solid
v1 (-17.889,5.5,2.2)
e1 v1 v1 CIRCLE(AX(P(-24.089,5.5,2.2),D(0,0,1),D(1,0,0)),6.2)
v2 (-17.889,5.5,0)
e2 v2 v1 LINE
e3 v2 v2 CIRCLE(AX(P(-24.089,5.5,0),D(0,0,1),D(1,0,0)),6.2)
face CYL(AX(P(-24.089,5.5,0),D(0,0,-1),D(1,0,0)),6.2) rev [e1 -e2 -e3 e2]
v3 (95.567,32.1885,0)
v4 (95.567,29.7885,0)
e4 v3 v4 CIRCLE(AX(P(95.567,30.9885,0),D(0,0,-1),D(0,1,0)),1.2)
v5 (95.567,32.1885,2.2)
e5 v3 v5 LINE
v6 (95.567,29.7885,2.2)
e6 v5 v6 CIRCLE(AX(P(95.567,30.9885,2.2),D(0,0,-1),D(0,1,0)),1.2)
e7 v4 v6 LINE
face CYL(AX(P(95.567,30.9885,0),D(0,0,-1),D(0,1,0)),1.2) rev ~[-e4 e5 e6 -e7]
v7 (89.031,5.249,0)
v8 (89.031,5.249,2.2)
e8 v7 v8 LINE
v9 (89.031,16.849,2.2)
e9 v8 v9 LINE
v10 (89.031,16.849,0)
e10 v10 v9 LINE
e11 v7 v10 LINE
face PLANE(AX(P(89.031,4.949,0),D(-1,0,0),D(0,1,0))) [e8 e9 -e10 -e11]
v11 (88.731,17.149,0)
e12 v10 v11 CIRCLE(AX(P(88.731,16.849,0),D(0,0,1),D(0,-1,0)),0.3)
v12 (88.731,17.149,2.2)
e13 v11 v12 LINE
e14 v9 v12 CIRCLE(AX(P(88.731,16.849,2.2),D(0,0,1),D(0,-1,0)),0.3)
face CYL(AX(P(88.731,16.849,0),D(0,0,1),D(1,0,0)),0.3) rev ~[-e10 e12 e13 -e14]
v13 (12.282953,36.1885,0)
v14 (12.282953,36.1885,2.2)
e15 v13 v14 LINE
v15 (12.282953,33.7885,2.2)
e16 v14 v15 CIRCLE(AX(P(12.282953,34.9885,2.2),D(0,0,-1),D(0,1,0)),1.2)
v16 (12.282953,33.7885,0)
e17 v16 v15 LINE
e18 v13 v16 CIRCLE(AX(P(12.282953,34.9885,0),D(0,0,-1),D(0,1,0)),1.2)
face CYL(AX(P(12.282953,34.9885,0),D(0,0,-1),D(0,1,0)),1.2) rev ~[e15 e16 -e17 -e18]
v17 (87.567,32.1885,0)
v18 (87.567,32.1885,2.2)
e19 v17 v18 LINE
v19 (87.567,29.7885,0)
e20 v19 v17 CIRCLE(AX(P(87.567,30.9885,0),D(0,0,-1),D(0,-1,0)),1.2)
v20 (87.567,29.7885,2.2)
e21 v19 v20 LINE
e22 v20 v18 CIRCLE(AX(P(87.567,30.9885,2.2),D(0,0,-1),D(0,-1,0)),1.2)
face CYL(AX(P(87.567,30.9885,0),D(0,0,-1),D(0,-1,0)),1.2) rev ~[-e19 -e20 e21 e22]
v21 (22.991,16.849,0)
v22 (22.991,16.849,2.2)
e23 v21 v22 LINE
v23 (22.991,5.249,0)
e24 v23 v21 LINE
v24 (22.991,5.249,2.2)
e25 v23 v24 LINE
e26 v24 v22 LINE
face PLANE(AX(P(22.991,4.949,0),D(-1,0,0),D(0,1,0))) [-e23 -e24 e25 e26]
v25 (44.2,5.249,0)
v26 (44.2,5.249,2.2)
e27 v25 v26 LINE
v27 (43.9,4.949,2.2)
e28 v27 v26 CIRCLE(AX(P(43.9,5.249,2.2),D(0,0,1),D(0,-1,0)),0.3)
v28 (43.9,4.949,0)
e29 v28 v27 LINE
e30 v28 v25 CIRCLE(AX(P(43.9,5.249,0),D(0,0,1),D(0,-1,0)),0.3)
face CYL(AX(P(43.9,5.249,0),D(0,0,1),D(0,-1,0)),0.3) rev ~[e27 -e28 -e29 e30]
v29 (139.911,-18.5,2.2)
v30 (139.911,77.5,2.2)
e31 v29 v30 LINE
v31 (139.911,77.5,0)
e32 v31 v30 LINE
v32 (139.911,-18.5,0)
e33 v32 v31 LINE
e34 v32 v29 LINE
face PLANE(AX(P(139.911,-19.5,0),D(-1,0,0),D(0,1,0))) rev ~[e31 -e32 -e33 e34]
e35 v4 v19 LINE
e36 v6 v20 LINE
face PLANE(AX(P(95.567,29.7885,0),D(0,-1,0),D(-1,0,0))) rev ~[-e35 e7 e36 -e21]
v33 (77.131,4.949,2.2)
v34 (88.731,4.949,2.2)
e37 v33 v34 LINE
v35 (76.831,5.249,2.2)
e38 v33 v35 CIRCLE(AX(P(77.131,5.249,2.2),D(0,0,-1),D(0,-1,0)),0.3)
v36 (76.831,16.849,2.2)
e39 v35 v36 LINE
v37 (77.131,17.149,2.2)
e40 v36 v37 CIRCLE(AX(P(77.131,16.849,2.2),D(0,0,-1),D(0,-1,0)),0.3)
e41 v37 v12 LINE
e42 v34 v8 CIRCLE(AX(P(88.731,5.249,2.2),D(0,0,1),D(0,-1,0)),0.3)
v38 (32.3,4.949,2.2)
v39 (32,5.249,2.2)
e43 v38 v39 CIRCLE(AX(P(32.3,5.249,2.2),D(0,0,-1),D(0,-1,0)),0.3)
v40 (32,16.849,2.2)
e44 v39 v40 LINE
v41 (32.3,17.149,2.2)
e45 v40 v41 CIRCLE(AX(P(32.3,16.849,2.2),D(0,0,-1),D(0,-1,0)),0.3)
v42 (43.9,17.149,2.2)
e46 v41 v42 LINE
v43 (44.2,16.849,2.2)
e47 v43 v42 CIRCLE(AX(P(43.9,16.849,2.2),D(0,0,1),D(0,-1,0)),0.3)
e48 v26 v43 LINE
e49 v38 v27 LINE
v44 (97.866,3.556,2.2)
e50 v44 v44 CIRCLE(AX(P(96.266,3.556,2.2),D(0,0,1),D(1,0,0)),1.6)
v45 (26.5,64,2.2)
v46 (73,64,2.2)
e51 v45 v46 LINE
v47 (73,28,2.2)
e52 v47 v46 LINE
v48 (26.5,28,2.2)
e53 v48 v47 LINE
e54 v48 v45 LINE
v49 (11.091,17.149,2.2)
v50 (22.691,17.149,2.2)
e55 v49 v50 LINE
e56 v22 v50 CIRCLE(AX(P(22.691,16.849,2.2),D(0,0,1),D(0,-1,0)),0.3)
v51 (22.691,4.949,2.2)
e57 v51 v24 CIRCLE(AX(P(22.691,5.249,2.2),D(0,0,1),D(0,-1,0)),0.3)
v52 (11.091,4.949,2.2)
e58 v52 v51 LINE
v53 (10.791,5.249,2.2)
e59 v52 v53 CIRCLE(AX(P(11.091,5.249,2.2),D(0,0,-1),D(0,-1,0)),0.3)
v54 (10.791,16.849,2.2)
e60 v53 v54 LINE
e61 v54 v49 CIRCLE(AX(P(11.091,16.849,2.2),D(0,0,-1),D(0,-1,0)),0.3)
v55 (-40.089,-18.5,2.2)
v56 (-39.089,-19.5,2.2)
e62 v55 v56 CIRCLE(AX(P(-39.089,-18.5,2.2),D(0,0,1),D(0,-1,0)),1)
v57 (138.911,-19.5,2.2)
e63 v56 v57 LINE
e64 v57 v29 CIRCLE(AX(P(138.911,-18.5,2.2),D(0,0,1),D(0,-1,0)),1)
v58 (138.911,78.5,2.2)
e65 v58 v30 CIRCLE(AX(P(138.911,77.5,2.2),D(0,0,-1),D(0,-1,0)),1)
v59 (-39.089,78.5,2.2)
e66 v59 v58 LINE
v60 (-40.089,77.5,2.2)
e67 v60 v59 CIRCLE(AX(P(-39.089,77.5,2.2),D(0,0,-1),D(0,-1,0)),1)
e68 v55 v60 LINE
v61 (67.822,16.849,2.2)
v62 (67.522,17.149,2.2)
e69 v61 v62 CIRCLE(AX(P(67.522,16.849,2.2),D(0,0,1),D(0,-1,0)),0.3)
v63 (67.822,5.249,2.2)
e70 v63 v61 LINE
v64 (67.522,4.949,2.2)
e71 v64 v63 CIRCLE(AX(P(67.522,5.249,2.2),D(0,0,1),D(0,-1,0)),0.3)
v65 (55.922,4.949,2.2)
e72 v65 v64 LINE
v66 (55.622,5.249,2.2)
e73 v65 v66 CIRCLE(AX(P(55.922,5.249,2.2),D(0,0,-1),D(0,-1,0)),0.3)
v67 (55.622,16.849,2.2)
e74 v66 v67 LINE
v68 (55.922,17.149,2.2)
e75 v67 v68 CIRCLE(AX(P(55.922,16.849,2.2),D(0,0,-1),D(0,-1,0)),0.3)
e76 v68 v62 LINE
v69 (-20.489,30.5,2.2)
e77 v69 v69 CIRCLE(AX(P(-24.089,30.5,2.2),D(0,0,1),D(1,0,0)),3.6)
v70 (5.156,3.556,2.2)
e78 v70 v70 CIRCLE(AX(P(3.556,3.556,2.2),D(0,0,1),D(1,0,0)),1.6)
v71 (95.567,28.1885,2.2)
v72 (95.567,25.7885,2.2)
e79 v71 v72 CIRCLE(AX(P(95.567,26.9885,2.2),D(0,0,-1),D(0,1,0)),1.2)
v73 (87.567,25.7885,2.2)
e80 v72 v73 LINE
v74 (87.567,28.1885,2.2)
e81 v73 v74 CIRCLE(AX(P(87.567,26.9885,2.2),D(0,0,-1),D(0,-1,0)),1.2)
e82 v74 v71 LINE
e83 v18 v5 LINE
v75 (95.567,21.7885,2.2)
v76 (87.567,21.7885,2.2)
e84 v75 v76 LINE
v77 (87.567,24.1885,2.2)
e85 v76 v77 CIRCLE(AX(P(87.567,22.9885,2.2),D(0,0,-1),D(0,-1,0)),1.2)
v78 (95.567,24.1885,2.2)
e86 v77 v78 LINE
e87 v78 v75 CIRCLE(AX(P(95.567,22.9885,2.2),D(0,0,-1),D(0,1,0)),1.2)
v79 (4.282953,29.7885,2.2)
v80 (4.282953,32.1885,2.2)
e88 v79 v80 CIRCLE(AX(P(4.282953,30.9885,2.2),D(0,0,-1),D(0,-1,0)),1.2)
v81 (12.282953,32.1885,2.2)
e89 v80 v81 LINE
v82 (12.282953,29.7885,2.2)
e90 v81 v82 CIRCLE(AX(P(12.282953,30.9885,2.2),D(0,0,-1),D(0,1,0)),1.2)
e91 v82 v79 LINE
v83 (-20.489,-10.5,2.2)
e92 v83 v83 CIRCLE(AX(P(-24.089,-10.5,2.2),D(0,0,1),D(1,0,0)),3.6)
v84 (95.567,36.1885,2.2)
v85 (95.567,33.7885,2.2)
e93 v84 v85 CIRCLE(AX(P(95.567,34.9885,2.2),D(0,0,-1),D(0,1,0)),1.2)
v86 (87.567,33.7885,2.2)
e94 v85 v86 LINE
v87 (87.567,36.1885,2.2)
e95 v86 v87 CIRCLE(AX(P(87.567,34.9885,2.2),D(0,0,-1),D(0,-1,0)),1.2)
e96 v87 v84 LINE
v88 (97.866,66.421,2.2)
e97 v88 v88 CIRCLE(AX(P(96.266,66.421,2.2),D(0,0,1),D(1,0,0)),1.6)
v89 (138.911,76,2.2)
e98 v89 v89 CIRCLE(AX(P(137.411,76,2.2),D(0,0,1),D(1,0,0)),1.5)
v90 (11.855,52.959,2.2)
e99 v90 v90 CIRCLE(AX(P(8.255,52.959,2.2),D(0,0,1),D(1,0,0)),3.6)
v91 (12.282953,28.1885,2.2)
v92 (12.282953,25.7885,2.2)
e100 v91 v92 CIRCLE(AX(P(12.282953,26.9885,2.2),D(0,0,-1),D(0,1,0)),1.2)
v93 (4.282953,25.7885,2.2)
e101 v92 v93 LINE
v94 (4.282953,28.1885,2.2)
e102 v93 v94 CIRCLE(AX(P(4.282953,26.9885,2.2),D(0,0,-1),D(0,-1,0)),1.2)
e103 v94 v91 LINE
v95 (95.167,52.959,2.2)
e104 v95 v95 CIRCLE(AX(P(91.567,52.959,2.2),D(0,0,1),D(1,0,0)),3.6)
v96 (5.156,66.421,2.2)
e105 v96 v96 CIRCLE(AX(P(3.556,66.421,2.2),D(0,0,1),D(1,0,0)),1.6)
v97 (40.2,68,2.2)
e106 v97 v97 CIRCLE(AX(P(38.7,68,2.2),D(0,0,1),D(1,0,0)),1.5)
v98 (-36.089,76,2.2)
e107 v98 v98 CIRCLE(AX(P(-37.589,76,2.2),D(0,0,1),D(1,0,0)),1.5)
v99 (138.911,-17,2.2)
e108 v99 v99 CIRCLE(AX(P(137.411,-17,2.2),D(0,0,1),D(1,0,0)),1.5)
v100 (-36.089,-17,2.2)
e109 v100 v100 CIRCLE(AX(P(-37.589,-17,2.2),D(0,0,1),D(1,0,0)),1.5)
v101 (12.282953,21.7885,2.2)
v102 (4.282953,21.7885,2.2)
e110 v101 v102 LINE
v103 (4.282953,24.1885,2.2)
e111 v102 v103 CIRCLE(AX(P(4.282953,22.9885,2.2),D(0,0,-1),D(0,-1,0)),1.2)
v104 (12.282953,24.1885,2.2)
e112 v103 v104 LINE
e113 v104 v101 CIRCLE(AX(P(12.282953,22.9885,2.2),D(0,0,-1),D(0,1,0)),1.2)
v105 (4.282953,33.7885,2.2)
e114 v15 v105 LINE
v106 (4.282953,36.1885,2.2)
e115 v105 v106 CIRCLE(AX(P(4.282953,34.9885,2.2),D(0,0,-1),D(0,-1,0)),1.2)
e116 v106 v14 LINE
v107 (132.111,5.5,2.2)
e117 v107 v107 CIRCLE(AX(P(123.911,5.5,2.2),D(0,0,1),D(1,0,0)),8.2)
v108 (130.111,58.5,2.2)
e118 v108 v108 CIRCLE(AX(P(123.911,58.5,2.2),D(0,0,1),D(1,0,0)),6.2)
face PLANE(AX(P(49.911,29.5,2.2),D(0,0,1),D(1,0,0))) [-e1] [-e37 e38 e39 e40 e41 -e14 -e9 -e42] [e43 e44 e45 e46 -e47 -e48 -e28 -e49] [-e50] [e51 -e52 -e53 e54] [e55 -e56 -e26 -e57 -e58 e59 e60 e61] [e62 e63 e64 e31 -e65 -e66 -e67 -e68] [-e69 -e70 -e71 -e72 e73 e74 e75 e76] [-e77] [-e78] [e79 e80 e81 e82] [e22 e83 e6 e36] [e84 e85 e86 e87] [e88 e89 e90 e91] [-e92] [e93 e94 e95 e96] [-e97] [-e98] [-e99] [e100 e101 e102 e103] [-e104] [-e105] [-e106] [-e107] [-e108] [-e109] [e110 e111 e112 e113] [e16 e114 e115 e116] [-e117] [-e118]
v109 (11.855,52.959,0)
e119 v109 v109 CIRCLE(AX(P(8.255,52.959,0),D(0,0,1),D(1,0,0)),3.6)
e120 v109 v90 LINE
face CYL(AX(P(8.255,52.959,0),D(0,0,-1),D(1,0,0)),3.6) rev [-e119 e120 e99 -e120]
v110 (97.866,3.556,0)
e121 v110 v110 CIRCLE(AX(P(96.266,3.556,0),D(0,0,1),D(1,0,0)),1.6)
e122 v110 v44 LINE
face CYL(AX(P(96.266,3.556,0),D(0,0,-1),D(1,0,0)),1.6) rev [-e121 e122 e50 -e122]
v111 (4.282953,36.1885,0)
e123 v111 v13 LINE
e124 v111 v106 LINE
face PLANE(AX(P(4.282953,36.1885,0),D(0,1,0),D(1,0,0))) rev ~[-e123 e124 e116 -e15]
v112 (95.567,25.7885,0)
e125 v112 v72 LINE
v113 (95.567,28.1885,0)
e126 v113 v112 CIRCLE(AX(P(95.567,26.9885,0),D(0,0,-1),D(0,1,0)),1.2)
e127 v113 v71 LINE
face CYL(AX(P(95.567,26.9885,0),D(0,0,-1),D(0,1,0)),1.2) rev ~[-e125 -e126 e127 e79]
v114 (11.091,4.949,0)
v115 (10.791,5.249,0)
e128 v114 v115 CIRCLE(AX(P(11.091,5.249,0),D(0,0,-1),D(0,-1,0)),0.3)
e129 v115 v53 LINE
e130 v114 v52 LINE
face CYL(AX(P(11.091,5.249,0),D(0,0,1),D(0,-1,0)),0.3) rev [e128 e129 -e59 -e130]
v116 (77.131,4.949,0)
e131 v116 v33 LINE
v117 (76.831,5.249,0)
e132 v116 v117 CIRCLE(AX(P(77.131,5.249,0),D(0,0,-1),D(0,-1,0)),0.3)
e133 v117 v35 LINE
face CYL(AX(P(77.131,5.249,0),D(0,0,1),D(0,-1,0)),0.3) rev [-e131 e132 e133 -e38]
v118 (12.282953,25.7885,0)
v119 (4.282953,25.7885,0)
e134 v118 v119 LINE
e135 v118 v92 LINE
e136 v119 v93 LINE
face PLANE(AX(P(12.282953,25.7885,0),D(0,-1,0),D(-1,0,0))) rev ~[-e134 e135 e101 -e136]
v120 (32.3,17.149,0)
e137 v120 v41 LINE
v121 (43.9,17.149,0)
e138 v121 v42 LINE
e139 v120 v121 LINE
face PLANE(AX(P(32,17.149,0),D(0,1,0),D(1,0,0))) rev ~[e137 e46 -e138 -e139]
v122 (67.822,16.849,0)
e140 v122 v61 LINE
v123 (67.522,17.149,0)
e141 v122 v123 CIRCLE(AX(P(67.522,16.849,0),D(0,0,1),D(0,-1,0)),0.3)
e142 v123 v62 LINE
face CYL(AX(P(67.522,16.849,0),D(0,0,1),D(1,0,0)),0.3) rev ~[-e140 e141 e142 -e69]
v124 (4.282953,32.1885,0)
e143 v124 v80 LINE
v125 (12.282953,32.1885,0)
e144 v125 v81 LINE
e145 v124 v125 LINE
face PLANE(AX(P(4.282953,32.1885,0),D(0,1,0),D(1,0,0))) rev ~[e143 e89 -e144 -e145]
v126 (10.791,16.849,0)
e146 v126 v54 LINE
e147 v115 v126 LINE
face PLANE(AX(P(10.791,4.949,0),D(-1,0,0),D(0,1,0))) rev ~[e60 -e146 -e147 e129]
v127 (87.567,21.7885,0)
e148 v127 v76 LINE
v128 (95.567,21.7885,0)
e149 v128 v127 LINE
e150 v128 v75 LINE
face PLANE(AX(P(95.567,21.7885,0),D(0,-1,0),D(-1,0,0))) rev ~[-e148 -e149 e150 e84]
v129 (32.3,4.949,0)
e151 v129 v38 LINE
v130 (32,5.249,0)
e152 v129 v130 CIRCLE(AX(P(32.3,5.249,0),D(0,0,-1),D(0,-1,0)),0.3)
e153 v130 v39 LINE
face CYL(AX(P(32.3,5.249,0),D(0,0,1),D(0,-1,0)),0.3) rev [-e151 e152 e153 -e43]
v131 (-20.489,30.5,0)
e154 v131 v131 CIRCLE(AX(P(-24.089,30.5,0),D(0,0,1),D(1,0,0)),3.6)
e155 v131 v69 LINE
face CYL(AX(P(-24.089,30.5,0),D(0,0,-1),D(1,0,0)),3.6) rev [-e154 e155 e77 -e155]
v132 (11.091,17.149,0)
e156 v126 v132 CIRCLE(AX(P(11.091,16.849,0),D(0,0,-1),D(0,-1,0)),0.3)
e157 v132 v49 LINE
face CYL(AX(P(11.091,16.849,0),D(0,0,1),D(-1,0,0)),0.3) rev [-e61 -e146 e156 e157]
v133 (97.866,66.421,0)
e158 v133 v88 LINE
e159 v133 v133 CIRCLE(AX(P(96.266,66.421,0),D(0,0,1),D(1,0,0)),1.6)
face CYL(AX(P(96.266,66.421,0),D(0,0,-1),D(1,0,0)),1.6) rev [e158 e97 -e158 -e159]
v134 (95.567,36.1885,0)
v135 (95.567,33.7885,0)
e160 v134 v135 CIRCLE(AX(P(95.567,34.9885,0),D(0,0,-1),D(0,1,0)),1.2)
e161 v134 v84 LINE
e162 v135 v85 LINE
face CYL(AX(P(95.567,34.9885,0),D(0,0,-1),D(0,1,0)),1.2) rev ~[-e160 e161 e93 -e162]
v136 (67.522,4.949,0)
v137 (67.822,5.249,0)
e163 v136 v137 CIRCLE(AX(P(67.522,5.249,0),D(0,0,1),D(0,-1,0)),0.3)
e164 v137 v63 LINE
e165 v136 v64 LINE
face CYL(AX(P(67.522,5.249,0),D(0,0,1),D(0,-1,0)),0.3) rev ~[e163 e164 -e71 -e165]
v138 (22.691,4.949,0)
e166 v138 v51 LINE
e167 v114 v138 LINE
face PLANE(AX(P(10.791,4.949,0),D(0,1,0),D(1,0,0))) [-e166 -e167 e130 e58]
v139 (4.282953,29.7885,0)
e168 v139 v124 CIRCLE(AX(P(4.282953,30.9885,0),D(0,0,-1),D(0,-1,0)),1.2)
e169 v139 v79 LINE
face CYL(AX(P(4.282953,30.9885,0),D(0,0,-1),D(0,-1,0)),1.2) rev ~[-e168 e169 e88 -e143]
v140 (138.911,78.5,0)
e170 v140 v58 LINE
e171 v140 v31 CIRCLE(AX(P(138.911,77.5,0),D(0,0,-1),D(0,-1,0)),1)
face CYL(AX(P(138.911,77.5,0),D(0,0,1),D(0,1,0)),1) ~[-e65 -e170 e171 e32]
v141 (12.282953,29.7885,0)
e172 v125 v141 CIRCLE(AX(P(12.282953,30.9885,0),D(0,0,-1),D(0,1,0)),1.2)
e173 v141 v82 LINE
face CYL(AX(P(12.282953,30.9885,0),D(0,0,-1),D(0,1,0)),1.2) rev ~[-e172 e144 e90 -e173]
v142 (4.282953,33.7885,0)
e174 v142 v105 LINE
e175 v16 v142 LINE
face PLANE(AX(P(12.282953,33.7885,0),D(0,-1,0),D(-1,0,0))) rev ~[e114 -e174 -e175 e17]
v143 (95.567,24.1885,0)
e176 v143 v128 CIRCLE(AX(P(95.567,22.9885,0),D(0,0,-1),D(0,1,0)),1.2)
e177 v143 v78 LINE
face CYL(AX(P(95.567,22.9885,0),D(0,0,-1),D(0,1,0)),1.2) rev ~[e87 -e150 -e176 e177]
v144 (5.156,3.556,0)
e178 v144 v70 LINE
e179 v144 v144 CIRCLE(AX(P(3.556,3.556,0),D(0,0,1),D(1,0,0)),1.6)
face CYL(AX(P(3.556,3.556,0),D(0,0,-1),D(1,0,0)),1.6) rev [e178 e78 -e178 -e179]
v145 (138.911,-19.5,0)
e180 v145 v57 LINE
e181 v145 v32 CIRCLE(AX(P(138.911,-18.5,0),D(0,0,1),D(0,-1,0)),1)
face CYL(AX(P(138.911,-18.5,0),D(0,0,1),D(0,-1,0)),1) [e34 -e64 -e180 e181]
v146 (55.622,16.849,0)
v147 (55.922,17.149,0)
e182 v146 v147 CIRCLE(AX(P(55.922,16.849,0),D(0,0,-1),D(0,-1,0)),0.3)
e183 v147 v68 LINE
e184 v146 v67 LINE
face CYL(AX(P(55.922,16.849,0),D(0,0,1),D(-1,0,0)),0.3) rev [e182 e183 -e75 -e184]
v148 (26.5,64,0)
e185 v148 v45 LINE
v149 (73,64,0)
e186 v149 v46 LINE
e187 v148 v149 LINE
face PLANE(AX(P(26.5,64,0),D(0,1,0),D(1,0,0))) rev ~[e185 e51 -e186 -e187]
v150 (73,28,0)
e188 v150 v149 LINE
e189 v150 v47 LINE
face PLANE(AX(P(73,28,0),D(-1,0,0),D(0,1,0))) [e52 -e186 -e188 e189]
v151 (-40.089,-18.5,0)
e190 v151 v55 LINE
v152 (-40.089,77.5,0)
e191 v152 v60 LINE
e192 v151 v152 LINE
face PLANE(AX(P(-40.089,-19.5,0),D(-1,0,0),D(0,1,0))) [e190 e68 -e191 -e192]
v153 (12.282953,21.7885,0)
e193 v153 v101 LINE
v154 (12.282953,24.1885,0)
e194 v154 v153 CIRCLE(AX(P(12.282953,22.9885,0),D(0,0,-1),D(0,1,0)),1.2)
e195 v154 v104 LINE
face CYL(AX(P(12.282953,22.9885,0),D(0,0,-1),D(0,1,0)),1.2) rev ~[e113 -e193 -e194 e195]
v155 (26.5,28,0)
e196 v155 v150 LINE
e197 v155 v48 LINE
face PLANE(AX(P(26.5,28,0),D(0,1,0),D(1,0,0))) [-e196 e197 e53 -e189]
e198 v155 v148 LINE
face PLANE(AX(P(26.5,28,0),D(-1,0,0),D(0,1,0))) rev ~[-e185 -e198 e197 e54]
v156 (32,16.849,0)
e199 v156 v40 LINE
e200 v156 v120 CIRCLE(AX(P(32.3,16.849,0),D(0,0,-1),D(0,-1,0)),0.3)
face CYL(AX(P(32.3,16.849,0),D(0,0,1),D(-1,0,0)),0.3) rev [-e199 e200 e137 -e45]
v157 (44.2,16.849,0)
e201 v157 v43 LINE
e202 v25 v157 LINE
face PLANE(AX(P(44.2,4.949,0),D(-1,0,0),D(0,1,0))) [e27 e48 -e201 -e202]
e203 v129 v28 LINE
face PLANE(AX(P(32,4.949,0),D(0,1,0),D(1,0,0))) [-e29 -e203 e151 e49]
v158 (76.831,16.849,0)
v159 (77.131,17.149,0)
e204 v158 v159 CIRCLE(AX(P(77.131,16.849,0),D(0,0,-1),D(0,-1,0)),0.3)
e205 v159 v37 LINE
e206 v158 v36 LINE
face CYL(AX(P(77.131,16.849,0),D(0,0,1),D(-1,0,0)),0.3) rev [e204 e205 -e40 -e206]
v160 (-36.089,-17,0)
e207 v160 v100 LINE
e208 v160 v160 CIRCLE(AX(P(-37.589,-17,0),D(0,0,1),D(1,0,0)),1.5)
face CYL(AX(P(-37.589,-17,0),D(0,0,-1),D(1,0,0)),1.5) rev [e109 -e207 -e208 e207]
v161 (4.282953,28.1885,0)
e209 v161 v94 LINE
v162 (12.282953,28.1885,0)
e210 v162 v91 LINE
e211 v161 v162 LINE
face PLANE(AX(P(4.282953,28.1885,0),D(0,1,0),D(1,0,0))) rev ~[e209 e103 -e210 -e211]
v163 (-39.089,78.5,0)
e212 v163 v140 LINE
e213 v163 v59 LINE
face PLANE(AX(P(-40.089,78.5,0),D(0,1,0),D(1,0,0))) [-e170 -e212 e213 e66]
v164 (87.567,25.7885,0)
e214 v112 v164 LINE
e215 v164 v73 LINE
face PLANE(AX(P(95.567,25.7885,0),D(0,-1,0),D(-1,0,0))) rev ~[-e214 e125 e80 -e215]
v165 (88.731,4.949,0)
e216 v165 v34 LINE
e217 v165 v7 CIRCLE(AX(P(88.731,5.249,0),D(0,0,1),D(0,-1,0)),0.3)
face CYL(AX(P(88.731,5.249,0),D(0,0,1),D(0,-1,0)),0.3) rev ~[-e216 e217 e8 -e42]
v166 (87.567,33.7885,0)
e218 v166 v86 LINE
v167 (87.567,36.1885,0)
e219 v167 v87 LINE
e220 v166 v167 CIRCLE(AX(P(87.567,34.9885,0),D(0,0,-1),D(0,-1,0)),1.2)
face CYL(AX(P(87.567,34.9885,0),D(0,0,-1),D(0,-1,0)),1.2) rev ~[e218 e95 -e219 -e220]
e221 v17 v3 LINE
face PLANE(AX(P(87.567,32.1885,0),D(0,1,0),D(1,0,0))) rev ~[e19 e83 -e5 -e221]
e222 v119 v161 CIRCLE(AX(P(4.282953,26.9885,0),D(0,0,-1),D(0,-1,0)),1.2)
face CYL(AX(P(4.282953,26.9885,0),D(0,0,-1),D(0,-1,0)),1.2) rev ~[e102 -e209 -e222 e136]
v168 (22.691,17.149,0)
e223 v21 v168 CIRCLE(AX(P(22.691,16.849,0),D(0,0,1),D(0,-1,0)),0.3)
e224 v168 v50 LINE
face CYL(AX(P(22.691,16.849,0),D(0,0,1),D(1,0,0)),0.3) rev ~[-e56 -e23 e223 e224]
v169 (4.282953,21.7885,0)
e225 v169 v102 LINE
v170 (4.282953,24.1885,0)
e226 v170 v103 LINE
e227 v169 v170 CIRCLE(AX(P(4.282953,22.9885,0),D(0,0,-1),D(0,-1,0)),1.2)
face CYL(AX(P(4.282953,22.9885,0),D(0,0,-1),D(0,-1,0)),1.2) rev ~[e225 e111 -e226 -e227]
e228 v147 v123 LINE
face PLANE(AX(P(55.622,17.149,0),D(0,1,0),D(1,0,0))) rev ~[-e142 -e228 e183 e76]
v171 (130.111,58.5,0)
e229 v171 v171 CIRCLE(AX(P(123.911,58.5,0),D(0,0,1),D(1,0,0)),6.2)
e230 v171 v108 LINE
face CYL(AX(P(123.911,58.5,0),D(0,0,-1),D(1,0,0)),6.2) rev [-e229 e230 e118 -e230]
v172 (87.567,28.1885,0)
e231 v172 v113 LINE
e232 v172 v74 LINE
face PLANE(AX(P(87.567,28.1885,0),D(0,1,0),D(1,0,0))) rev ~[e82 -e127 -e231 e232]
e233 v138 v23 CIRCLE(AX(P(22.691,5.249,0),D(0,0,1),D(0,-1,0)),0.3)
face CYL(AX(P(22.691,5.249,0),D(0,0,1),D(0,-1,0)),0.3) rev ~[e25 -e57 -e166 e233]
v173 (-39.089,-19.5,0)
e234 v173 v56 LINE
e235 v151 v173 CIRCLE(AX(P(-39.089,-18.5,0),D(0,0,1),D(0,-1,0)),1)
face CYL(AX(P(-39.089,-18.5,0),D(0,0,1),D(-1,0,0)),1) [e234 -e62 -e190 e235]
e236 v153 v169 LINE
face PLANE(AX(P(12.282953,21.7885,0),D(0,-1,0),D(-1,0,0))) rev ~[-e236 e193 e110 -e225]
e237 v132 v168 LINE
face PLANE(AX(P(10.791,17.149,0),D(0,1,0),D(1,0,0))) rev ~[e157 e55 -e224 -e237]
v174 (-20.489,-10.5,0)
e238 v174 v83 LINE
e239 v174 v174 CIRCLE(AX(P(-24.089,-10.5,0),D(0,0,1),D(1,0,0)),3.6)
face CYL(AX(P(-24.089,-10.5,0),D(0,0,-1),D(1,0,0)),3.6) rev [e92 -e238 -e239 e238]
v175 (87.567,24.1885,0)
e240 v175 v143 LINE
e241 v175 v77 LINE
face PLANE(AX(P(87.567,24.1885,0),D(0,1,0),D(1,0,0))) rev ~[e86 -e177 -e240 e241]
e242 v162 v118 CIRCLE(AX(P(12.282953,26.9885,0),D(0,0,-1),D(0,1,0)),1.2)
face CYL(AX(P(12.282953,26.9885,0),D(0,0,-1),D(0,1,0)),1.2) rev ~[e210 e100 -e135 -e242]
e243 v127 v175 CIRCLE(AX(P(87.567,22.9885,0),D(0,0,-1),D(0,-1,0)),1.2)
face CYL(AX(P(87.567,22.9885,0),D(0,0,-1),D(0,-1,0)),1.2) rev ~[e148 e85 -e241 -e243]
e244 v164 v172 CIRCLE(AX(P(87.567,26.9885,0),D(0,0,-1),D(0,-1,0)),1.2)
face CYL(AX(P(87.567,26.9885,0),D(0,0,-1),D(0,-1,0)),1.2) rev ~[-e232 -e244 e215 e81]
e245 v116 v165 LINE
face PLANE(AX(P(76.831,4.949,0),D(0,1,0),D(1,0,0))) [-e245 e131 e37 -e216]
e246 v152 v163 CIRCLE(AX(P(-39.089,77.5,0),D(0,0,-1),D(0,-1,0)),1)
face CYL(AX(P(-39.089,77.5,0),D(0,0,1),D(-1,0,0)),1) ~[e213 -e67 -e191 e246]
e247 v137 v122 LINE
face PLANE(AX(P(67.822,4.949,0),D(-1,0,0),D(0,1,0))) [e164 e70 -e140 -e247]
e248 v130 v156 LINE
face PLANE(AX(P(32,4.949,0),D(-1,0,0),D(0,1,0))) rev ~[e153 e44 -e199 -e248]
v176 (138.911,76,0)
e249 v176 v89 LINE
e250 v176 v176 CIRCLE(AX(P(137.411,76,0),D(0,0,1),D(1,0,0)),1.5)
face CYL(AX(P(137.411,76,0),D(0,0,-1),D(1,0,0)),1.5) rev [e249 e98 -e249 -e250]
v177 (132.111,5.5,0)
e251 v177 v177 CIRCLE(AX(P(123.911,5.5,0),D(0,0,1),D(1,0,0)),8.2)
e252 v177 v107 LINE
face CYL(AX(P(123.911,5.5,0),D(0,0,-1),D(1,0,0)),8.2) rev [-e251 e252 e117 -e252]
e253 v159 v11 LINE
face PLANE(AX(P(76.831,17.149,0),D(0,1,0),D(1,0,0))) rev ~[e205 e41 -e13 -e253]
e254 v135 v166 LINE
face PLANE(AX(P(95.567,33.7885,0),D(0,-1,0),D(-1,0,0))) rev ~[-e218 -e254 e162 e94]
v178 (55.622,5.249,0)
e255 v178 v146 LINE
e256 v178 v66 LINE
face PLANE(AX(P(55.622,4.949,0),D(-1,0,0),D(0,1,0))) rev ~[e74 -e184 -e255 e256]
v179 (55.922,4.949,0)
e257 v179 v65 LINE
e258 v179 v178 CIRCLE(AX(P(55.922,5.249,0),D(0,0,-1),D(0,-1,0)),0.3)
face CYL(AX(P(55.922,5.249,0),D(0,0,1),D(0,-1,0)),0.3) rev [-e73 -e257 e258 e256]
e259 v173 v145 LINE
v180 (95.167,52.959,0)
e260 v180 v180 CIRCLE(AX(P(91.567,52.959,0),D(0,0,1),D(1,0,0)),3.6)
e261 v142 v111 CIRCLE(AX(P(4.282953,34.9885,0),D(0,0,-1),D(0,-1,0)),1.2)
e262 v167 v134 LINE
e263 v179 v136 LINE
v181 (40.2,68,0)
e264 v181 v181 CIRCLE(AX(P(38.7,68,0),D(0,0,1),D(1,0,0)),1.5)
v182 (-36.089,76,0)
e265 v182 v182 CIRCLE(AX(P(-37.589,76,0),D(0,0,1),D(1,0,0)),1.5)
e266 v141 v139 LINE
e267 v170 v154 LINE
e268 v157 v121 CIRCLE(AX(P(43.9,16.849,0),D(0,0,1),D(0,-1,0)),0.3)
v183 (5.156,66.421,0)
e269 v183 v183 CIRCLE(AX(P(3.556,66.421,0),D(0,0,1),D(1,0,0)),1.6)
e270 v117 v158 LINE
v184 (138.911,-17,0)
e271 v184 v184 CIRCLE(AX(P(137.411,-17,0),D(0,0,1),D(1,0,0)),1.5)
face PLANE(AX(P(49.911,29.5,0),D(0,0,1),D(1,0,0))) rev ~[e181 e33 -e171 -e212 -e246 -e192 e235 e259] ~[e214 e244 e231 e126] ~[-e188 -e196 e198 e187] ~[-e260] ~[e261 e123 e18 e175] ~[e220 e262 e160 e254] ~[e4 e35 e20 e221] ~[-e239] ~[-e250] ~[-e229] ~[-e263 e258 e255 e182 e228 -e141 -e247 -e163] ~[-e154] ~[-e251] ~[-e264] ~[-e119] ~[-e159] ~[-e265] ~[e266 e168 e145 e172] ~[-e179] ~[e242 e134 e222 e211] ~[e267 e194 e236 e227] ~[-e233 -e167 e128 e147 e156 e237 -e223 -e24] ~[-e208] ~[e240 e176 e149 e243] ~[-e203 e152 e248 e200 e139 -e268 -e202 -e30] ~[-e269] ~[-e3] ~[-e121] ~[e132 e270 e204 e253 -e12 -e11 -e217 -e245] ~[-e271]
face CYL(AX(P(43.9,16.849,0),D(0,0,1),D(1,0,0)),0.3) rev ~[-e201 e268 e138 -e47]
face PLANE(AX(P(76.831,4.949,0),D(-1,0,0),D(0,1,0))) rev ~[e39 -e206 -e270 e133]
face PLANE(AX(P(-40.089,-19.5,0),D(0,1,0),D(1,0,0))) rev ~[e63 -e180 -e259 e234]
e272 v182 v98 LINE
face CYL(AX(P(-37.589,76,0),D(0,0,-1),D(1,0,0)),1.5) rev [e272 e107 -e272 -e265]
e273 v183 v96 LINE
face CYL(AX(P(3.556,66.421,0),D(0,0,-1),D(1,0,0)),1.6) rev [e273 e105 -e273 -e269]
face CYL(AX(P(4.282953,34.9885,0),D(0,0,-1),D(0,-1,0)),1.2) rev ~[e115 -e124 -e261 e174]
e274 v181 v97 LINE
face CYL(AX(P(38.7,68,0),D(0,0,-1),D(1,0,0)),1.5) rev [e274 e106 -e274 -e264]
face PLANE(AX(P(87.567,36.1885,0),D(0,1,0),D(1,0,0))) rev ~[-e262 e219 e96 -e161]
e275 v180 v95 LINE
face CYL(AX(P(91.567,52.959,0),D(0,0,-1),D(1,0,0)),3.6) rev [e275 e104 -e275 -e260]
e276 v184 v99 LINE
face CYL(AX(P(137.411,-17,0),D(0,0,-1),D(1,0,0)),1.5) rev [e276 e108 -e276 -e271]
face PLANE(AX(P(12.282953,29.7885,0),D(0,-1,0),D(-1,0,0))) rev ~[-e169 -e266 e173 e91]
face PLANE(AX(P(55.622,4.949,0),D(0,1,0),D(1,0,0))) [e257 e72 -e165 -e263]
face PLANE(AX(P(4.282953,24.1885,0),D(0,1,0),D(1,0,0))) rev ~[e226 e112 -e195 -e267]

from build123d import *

# Parameters (mm, degrees)
SKETCH_1_W      = 180
SKETCH_1_H      = 98
SKETCH_1_R      = 6.2
SKETCH_1_R_2    = 8.2
SKETCH_1_R_3    = 1.5
SKETCH_1_R_4    = 1.6
SKETCH_1_R_5    = 3.6
SKETCH_1_W_2    = 12.2
SKETCH_1_H_2    = 12.2
SKETCH_1_W_3    = 46.5
SKETCH_1_H_3    = 36
EXTRUDE_1_DEPTH = 2.2
FILLET_1_R      = 1
FILLET_2_R      = 0.3


with BuildPart() as part:
    # Эскиз1 → Бобышка-Вытянуть1 (new body)
    with BuildSketch(Plane.XY):
        with Locations((49.911, 29.5)):
            Rectangle(SKETCH_1_W, SKETCH_1_H)
        with Locations((-24.089, 5.5)):
            Circle(SKETCH_1_R, mode=Mode.SUBTRACT)
        with Locations((123.911, 58.5)):
            Circle(SKETCH_1_R, mode=Mode.SUBTRACT)
        with Locations((123.911, 5.5)):
            Circle(SKETCH_1_R_2, mode=Mode.SUBTRACT)
        with Locations((-37.589, 76)):
            Circle(SKETCH_1_R_3, mode=Mode.SUBTRACT)
        with Locations((137.411, 76)):
            Circle(SKETCH_1_R_3, mode=Mode.SUBTRACT)
        with Locations((137.411, -17)):
            Circle(SKETCH_1_R_3, mode=Mode.SUBTRACT)
        with Locations((-37.589, -17)):
            Circle(SKETCH_1_R_3, mode=Mode.SUBTRACT)
        with Locations((3.556, 3.556)):
            Circle(SKETCH_1_R_4, mode=Mode.SUBTRACT)
        with Locations((3.556, 66.421)):
            Circle(SKETCH_1_R_4, mode=Mode.SUBTRACT)
        with Locations((96.266, 66.421)):
            Circle(SKETCH_1_R_4, mode=Mode.SUBTRACT)
        with Locations((96.266, 3.556)):
            Circle(SKETCH_1_R_4, mode=Mode.SUBTRACT)
        with Locations((8.255, 52.959)):
            Circle(SKETCH_1_R_5, mode=Mode.SUBTRACT)
        with Locations((91.567, 52.959)):
            Circle(SKETCH_1_R_5, mode=Mode.SUBTRACT)
        with Locations((-24.089, 30.5)):
            Circle(SKETCH_1_R_5, mode=Mode.SUBTRACT)
        with Locations((-24.089, -10.5)):
            Circle(SKETCH_1_R_5, mode=Mode.SUBTRACT)
        with Locations((38.7, 68)):
            Circle(SKETCH_1_R_3, mode=Mode.SUBTRACT)
        with Locations((16.891, 11.049)):
            Rectangle(SKETCH_1_W_2, SKETCH_1_H_2, mode=Mode.SUBTRACT)
        with Locations((38.1, 11.049)):
            Rectangle(SKETCH_1_W_2, SKETCH_1_H_2, mode=Mode.SUBTRACT)
        with Locations((61.722, 11.049)):
            Rectangle(SKETCH_1_W_2, SKETCH_1_H_2, mode=Mode.SUBTRACT)
        with Locations((82.931, 11.049)):
            Rectangle(SKETCH_1_W_2, SKETCH_1_H_2, mode=Mode.SUBTRACT)
        with Locations((49.75, 46)):
            Rectangle(SKETCH_1_W_3, SKETCH_1_H_3, mode=Mode.SUBTRACT)
        with BuildLine():
            Line((4.282953003, 36.1885), (12.282953003, 36.1885))
            ThreePointArc((12.282953003, 36.1885), (13.482953003, 34.9885), (12.282953003, 33.7885))
            Line((12.282953003, 33.7885), (4.282953003, 33.7885))
            ThreePointArc((4.282953003, 33.7885), (3.082953003, 34.9885), (4.282953003, 36.1885))
        make_face(mode=Mode.SUBTRACT)
        with BuildLine():
            Line((95.567, 33.7885), (87.567, 33.7885))
            ThreePointArc((87.567, 33.7885), (86.367, 34.9885), (87.567, 36.1885))
            Line((87.567, 36.1885), (95.567, 36.1885))
            ThreePointArc((95.567, 36.1885), (96.767, 34.9885), (95.567, 33.7885))
        make_face(mode=Mode.SUBTRACT)
        with BuildLine():
            Line((4.282953003, 32.1885), (12.282953003, 32.1885))
            ThreePointArc((12.282953003, 32.1885), (13.482953003, 30.9885), (12.282953003, 29.7885))
            Line((12.282953003, 29.7885), (4.282953003, 29.7885))
            ThreePointArc((4.282953003, 29.7885), (3.082953003, 30.9885), (4.282953003, 32.1885))
        make_face(mode=Mode.SUBTRACT)
        with BuildLine():
            Line((95.567, 29.7885), (87.567, 29.7885))
            ThreePointArc((87.567, 29.7885), (86.367, 30.9885), (87.567, 32.1885))
            Line((87.567, 32.1885), (95.567, 32.1885))
            ThreePointArc((95.567, 32.1885), (96.767, 30.9885), (95.567, 29.7885))
        make_face(mode=Mode.SUBTRACT)
        with BuildLine():
            Line((4.282953003, 28.1885), (12.282953003, 28.1885))
            ThreePointArc((12.282953003, 28.1885), (13.482953003, 26.9885), (12.282953003, 25.7885))
            Line((12.282953003, 25.7885), (4.282953003, 25.7885))
            ThreePointArc((4.282953003, 25.7885), (3.082953003, 26.9885), (4.282953003, 28.1885))
        make_face(mode=Mode.SUBTRACT)
        with BuildLine():
            Line((95.567, 25.7885), (87.567, 25.7885))
            ThreePointArc((87.567, 25.7885), (86.367, 26.9885), (87.567, 28.1885))
            Line((87.567, 28.1885), (95.567, 28.1885))
            ThreePointArc((95.567, 28.1885), (96.767, 26.9885), (95.567, 25.7885))
        make_face(mode=Mode.SUBTRACT)
        with BuildLine():
            Line((4.282953003, 24.1885), (12.282953003, 24.1885))
            ThreePointArc((12.282953003, 24.1885), (13.482953003, 22.9885), (12.282953003, 21.7885))
            Line((12.282953003, 21.7885), (4.282953003, 21.7885))
            ThreePointArc((4.282953003, 21.7885), (3.082953003, 22.9885), (4.282953003, 24.1885))
        make_face(mode=Mode.SUBTRACT)
        with BuildLine():
            Line((95.567, 21.7885), (87.567, 21.7885))
            ThreePointArc((87.567, 21.7885), (86.367, 22.9885), (87.567, 24.1885))
            Line((87.567, 24.1885), (95.567, 24.1885))
            ThreePointArc((95.567, 24.1885), (96.767, 22.9885), (95.567, 21.7885))
        make_face(mode=Mode.SUBTRACT)
    extrude(amount=EXTRUDE_1_DEPTH)

    # Скругление1
    fillet_1_edges = [part.edges().sort_by_distance(p)[0] for p in [
        (139.911, -19.5, 1.1),
        (-40.089, -19.5, 1.1),
        (-40.089, 78.5, 1.1),
        (139.911, 78.5, 1.1),
    ]]
    fillet(fillet_1_edges, radius=FILLET_1_R)

    # Скругление2
    fillet_2_edges = [part.edges().sort_by_distance(p)[0] for p in [
        (89.031, 4.949, 1.1),
        (89.031, 17.149, 1.1),
        (76.831, 17.149, 1.1),
        (76.831, 4.949, 1.1),
        (22.991, 4.949, 1.1),
        (22.991, 17.149, 1.1),
        (10.791, 17.149, 1.1),
        (10.791, 4.949, 1.1),
        (44.2, 4.949, 1.1),
        (44.2, 17.149, 1.1),
        (32, 17.149, 1.1),
        (32, 4.949, 1.1),
        (67.822, 4.949, 1.1),
        (67.822, 17.149, 1.1),
        (55.622, 17.149, 1.1),
        (55.622, 4.949, 1.1),
    ]]
    fillet(fillet_2_edges, radius=FILLET_2_R)


solid = part.part
